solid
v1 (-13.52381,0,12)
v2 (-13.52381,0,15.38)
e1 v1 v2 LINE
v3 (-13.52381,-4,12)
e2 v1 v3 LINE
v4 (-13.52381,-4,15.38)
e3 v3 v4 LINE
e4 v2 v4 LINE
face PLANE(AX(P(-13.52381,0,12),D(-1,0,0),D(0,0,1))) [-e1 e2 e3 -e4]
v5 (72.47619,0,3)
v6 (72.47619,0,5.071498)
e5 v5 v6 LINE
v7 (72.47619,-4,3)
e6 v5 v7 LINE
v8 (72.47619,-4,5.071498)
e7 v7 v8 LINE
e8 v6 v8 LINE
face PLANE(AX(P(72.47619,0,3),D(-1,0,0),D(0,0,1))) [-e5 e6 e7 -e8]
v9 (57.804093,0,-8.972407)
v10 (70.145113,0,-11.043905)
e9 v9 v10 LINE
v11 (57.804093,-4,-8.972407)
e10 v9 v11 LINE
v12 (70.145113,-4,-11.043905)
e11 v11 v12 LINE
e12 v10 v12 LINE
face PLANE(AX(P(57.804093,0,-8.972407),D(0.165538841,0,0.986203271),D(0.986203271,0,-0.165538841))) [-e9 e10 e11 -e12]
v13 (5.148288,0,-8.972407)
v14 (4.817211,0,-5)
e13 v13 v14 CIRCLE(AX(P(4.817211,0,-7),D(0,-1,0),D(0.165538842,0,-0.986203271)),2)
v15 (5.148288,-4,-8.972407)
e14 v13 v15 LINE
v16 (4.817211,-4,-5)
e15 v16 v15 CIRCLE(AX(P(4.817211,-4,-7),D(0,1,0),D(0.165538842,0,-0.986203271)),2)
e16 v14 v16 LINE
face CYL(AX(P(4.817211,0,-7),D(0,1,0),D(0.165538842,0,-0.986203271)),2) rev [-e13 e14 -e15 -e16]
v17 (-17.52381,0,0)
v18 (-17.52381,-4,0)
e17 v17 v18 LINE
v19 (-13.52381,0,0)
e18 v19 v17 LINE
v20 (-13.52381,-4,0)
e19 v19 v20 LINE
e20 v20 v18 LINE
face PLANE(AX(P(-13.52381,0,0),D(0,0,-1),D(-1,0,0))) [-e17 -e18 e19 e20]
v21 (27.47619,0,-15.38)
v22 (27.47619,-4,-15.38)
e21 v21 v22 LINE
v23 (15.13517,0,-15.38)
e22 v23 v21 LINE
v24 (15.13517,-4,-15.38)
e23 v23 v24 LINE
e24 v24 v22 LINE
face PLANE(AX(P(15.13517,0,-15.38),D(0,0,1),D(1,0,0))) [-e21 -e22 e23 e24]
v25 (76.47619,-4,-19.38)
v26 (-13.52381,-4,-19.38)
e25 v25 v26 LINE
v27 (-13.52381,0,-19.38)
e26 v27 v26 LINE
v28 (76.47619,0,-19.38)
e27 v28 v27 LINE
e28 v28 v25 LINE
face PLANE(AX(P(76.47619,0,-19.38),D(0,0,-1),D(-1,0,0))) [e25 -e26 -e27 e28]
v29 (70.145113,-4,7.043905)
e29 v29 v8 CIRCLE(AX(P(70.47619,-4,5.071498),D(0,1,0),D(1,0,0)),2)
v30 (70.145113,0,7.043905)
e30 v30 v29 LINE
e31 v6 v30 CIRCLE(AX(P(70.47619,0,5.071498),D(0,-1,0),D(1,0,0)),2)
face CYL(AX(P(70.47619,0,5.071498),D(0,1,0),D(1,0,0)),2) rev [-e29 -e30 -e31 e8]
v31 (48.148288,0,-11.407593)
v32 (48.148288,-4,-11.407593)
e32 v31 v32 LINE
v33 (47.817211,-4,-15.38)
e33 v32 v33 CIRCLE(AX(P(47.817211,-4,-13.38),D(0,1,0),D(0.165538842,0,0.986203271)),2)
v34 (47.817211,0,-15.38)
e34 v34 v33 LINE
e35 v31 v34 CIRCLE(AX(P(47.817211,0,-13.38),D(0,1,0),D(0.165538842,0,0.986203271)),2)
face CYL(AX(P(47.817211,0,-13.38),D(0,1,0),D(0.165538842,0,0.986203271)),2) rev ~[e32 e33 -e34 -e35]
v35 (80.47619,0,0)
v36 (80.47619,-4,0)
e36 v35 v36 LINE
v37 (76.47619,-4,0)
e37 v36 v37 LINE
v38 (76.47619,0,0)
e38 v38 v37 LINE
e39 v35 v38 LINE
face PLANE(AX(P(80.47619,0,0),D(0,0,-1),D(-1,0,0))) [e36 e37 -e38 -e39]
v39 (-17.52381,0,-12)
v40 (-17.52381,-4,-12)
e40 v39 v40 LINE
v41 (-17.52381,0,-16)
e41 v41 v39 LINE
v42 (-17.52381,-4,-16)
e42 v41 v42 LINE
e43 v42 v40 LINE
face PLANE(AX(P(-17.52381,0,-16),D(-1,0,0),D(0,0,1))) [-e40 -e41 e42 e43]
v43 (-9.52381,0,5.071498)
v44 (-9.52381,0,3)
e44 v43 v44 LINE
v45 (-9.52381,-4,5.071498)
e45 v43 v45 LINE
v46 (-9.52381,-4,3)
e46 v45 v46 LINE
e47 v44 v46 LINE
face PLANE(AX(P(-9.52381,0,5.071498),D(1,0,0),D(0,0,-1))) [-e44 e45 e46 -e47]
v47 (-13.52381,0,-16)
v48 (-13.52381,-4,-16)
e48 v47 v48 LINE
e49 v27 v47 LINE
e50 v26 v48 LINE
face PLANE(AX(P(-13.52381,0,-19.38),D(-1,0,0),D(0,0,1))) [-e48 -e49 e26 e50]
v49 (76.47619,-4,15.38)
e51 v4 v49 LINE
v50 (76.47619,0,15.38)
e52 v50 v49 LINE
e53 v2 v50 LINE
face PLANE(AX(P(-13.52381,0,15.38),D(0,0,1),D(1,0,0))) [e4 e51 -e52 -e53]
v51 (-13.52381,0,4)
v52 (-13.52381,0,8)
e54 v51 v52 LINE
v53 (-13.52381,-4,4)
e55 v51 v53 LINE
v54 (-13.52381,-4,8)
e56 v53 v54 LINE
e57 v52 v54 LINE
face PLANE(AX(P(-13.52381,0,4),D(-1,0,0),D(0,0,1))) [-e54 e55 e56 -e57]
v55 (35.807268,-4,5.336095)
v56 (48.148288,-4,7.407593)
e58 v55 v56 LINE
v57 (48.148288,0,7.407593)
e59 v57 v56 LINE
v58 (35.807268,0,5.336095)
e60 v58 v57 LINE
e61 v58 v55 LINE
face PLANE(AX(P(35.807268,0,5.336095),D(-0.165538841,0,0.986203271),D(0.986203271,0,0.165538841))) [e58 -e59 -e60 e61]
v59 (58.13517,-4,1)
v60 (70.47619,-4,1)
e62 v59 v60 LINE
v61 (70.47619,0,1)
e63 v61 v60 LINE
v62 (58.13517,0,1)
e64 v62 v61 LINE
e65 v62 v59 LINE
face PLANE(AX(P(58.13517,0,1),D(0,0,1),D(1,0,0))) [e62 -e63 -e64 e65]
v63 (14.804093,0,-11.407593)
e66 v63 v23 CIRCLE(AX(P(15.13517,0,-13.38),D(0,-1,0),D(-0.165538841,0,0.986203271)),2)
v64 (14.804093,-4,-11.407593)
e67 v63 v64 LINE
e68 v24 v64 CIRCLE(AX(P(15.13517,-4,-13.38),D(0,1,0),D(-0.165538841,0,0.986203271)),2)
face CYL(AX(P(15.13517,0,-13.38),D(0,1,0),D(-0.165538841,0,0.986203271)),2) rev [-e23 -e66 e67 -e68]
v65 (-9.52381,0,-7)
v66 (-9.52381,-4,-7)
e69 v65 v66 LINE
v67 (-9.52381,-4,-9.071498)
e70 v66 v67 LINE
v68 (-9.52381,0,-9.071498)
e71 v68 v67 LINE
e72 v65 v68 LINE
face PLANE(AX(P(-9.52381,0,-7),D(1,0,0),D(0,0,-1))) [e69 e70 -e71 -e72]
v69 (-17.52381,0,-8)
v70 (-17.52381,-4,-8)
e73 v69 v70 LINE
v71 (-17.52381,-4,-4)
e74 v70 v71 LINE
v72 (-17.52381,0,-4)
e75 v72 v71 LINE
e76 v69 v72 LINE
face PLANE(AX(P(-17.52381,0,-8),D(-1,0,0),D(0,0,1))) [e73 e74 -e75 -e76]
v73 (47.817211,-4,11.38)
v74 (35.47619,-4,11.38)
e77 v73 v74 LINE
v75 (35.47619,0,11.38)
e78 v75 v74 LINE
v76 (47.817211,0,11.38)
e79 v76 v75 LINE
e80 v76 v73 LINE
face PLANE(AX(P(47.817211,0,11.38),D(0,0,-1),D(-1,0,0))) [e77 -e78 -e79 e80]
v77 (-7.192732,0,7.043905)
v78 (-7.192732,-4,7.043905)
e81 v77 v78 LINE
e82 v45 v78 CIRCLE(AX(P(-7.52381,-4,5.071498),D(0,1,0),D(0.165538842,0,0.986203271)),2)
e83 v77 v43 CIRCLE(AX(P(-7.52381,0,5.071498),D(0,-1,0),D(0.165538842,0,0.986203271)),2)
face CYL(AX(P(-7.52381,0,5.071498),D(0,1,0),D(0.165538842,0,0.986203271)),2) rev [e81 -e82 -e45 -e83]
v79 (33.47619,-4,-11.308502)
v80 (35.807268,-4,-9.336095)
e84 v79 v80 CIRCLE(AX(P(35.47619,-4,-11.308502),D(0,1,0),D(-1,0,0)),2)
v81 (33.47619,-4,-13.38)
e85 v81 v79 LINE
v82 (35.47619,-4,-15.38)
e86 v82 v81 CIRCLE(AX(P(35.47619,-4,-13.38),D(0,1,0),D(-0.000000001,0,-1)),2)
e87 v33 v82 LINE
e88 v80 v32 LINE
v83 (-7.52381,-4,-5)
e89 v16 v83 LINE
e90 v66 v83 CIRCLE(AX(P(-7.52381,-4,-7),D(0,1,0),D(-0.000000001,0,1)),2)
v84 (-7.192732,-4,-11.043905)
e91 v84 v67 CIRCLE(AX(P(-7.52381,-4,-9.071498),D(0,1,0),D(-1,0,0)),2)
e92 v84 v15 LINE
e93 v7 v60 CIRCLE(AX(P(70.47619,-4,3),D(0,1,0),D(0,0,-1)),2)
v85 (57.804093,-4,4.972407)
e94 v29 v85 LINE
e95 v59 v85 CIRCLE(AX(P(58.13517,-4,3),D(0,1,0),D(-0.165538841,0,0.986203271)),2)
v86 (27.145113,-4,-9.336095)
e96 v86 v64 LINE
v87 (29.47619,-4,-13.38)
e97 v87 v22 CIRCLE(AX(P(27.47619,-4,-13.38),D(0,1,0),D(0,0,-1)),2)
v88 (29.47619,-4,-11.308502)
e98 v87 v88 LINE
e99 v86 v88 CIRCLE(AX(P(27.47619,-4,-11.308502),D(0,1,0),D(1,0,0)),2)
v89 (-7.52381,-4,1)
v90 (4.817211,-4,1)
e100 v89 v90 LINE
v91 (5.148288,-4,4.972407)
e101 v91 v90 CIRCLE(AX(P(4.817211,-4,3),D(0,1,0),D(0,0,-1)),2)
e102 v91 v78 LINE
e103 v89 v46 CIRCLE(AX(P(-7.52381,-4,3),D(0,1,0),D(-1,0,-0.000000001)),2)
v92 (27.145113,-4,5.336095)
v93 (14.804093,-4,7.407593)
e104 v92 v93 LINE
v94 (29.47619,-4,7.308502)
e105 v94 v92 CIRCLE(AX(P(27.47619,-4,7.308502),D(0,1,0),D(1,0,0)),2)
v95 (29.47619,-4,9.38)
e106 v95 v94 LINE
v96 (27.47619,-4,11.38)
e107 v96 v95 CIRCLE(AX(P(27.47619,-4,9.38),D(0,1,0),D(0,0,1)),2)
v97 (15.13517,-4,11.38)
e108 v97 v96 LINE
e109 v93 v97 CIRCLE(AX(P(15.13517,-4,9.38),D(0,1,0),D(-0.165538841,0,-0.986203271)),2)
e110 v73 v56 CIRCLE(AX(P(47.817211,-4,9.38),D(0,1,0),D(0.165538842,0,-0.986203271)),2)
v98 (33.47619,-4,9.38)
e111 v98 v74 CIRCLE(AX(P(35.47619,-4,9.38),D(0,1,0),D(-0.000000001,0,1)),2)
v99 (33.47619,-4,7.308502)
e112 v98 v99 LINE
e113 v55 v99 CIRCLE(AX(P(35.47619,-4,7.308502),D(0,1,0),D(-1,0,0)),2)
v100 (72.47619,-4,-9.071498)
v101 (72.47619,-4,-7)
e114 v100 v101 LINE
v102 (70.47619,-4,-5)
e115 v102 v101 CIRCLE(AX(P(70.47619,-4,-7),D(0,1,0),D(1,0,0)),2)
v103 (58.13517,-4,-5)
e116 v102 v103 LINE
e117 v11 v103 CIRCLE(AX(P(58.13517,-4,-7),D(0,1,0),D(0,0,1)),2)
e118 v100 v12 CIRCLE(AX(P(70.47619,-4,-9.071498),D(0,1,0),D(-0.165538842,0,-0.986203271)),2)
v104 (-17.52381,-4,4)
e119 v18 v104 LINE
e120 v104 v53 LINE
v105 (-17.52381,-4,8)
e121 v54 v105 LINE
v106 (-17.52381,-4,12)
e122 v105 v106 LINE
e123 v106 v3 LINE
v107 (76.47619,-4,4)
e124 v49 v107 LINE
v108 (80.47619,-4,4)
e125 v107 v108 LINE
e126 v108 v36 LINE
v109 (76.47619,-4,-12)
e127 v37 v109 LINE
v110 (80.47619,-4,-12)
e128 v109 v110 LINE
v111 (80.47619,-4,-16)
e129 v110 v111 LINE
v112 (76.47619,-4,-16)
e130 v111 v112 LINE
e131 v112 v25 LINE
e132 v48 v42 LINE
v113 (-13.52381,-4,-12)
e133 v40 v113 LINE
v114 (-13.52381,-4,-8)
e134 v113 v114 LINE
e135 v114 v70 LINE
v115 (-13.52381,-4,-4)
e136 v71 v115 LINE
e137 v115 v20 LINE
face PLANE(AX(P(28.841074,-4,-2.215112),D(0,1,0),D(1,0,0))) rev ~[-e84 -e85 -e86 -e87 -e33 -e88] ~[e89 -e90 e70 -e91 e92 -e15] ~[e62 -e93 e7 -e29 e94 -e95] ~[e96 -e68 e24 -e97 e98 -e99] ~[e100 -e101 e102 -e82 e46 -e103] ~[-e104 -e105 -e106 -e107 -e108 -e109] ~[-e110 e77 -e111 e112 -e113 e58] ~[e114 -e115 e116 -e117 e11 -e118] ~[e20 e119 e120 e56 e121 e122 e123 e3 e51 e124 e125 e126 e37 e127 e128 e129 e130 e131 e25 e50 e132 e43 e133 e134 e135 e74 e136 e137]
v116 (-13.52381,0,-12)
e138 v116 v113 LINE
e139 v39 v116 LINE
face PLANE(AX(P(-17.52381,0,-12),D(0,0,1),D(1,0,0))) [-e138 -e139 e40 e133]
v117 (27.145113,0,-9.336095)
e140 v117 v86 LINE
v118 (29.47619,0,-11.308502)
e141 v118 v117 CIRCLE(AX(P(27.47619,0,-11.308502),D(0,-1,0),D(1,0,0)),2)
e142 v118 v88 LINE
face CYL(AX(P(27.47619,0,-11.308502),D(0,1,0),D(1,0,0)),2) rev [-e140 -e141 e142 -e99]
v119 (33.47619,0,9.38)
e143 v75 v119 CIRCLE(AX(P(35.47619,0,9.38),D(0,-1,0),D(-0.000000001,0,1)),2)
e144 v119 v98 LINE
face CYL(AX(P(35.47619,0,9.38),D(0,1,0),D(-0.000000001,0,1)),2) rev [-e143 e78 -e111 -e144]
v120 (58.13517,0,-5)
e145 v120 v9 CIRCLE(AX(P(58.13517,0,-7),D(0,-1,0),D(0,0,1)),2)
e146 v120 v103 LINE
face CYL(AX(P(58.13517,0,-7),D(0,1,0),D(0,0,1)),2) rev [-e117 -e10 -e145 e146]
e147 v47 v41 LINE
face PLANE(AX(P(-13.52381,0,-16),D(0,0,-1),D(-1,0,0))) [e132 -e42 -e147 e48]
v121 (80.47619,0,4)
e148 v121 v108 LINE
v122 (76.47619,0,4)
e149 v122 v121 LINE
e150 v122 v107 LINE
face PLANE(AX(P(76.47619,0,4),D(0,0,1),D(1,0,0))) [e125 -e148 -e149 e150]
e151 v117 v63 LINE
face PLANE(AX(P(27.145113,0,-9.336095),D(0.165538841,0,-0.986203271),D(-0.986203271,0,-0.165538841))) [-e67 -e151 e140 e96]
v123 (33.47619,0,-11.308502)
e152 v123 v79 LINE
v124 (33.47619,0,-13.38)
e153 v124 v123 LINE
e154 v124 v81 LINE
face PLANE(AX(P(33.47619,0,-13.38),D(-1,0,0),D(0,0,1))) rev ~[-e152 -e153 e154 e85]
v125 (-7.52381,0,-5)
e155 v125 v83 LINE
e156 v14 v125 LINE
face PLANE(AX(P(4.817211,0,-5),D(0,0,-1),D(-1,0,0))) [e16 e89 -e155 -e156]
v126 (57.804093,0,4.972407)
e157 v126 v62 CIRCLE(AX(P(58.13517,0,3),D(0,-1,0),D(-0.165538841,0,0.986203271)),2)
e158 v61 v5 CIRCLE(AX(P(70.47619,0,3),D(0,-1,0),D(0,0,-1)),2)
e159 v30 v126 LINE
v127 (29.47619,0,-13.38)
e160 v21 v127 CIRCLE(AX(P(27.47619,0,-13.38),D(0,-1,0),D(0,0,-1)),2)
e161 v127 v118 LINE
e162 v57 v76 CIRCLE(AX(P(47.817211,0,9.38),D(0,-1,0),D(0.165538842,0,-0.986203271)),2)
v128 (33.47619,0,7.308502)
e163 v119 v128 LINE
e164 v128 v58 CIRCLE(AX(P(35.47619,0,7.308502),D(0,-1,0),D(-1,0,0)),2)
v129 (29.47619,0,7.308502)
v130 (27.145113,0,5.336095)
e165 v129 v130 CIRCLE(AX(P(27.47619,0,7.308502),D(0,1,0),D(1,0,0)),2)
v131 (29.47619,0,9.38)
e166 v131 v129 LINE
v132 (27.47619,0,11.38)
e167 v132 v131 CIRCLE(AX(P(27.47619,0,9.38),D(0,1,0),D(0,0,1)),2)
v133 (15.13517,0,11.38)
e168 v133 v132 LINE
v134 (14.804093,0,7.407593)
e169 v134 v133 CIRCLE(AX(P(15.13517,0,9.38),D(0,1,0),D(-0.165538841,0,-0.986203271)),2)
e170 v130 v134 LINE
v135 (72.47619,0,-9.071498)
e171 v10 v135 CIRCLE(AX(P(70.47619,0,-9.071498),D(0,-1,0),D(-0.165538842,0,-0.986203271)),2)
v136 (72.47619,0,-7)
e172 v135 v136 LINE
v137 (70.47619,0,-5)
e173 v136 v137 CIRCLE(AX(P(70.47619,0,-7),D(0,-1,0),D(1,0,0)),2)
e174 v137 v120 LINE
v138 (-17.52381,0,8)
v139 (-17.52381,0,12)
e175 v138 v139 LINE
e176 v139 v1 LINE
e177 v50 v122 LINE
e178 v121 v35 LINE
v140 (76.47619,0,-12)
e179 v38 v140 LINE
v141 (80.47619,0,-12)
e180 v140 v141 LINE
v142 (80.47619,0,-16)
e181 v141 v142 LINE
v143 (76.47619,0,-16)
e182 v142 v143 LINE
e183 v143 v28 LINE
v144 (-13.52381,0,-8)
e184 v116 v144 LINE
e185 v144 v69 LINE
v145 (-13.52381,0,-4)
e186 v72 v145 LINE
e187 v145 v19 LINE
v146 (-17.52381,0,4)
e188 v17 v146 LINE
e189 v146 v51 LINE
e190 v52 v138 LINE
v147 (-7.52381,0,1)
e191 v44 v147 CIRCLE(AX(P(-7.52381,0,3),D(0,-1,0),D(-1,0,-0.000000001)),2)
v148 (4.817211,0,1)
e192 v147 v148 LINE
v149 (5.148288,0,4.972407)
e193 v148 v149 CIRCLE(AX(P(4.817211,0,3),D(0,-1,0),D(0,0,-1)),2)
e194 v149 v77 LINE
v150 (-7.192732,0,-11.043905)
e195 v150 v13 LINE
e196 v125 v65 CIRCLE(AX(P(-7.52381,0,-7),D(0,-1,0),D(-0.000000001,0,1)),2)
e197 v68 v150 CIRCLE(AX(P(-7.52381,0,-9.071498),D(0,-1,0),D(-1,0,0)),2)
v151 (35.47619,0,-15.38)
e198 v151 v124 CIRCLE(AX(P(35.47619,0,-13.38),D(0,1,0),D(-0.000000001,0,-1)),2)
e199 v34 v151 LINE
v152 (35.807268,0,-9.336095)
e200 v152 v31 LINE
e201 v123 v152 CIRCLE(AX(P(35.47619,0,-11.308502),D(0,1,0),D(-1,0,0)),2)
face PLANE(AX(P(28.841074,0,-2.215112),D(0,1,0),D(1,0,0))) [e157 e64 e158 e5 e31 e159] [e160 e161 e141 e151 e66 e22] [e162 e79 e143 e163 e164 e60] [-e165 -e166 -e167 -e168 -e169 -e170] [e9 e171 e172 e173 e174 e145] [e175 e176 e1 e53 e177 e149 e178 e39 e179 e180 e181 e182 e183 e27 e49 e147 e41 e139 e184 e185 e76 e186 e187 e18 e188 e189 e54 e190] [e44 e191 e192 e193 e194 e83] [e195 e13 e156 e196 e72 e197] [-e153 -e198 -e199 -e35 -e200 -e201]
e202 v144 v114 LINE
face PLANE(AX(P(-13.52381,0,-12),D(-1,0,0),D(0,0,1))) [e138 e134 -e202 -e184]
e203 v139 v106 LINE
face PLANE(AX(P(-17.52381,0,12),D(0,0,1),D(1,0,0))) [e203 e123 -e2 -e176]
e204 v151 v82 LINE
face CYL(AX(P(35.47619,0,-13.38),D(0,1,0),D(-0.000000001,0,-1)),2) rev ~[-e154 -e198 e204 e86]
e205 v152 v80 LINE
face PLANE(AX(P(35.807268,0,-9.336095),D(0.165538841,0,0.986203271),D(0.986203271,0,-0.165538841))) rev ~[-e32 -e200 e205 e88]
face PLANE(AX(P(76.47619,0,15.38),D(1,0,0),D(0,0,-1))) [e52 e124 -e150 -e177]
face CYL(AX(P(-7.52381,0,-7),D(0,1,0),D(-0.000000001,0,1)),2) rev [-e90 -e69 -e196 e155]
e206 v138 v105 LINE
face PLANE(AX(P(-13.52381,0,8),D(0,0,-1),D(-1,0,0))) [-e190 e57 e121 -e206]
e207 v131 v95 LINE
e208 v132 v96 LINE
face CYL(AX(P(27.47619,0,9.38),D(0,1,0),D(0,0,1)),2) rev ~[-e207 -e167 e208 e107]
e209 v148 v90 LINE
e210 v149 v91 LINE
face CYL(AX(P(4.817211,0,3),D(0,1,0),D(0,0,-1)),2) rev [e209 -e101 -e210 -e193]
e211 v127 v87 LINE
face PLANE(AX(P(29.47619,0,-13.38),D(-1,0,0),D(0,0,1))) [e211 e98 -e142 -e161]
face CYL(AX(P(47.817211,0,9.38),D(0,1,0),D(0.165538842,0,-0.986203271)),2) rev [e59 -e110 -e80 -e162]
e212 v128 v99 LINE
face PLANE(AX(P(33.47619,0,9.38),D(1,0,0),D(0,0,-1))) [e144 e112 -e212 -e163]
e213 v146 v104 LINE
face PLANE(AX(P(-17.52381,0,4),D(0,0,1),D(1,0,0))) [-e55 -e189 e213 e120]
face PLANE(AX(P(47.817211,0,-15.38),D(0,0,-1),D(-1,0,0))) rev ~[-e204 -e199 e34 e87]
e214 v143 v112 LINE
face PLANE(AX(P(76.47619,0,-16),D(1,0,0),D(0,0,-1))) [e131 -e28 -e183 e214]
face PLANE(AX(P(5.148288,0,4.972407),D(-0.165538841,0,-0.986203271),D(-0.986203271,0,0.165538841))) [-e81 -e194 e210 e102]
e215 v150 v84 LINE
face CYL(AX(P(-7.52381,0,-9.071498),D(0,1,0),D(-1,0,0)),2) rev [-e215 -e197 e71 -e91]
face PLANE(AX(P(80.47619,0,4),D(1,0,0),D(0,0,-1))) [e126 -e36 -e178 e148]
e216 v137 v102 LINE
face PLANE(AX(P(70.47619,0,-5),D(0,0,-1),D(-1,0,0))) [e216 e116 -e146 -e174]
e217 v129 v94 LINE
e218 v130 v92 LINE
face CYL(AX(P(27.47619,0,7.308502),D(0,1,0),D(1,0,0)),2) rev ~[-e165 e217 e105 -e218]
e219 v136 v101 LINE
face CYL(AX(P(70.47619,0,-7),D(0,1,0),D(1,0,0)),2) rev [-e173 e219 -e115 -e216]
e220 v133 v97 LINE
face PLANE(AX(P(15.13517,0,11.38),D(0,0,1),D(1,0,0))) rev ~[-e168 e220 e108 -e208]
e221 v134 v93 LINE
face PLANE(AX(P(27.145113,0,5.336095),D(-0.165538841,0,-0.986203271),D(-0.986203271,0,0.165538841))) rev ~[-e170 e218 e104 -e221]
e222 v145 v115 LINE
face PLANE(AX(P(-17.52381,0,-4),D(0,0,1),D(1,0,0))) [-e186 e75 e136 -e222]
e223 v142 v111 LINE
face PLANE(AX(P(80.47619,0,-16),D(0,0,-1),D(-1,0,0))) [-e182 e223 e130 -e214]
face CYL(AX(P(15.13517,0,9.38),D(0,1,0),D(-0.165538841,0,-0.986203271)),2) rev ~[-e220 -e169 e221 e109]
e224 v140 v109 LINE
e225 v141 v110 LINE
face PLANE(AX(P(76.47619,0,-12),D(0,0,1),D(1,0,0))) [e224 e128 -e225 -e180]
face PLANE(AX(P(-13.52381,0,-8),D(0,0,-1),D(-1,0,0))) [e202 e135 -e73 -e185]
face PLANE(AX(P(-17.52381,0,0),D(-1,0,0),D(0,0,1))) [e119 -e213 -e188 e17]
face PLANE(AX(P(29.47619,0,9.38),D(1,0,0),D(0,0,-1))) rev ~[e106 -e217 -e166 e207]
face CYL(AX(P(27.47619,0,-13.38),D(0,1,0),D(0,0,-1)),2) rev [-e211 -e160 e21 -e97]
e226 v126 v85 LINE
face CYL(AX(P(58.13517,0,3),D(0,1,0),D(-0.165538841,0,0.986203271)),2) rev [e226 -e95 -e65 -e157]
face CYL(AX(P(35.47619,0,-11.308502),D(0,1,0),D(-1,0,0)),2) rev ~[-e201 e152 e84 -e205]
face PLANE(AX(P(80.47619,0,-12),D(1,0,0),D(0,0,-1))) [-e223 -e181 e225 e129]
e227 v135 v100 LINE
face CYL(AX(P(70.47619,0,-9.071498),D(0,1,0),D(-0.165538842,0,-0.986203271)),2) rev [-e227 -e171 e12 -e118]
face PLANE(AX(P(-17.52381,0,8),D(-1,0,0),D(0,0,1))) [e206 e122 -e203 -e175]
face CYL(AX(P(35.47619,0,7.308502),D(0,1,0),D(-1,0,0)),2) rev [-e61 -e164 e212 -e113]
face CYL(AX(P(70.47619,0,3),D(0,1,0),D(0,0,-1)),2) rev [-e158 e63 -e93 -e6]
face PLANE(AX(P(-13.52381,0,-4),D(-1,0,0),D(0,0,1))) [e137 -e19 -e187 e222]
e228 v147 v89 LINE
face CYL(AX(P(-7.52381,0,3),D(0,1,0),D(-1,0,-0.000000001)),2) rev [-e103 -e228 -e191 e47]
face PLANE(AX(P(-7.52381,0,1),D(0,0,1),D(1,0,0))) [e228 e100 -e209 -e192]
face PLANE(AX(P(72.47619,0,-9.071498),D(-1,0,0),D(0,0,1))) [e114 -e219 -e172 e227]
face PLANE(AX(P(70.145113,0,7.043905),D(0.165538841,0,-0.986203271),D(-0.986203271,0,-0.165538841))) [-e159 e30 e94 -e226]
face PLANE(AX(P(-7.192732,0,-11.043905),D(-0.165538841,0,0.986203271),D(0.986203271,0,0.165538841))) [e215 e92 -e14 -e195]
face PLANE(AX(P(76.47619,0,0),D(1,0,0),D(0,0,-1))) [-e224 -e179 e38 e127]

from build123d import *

# Parameters (mm, degrees)
BOSS_EXTRUDE1_DEPTH = 4
CUT_EXTRUDE1_DEPTH  = 10


with BuildPart() as part:
    # Sketch1 → Boss-Extrude1 (new body)
    with BuildSketch(Plane(origin=(0, 0, 0), x_dir=(1, 0, 0), z_dir=(0, 1, 0))):
        Polygon((-13.523809524, 16), (-17.523809524, 16), (-17.523809524, 12), (-13.523809524, 12), (-13.523809524, 8), (-17.523809524, 8), (-17.523809524, 4), (-13.523809524, 4), (-13.523809524, 0), (-17.523809524, 0), (-17.523809524, -4), (-13.523809524, -4), (-13.523809524, -8), (-17.523809524, -8), (-17.523809524, -12), (-13.523809524, -12), (-13.523809524, -15.38), (76.476190476, -15.38), (76.476190476, -4), (80.476190476, -4), (80.476190476, 0), (76.476190476, 0), (76.476190476, 12), (80.476190476, 12), (80.476190476, 16), (76.476190476, 16), (76.476190476, 19.38), (-13.523809524, 19.38), align=None)
    extrude(amount=-BOSS_EXTRUDE1_DEPTH)

    # Sketch2 → Cut-Extrude1 (cut)
    with BuildSketch(Plane(origin=(0, 0, 0), x_dir=(1, 0, 0), z_dir=(0, 1, 0))):
        with BuildLine():
            ThreePointArc((-9.523809524, 9.071498058), (-8.815677287, 10.598284776), (-7.192731841, 11.0439046))
            Line((-7.192731841, 11.0439046), (5.148288204, 8.972406542))
            ThreePointArc((5.148288204, 8.972406542), (6.810300218, 6.833887214), (4.817210521, 5))
            Line((4.817210521, 5), (-7.523809524, 5))
            ThreePointArc((-7.523809524, 5), (-8.938023086, 5.585786438), (-9.523809524, 7))
            Line((-9.523809524, 7), (-9.523809524, 9.071498058))
        make_face()
        with BuildLine():
            Line((15.135170432, 15.38), (27.476190476, 15.38))
            ThreePointArc((27.476190476, 15.38), (28.890404039, 14.794213562), (29.476190476, 13.38))
            Line((29.476190476, 13.38), (29.476190476, 11.308501942))
            ThreePointArc((29.476190476, 11.308501942), (28.768058239, 9.781715224), (27.145112793, 9.3360954))
            Line((27.145112793, 9.3360954), (14.804092749, 11.407593458))
            ThreePointArc((14.804092749, 11.407593458), (13.142080734, 13.546112786), (15.135170432, 15.38))
        make_face()
        with BuildLine():
            Line((33.476190476, 13.38), (33.476190476, 11.308501942))
            ThreePointArc((33.476190476, 11.308501942), (34.184322713, 9.781715224), (35.807268159, 9.3360954))
            Line((35.807268159, 9.3360954), (48.148288204, 11.407593458))
            ThreePointArc((48.148288204, 11.407593458), (49.810300218, 13.546112786), (47.817210521, 15.38))
            Line((47.817210521, 15.38), (35.476190476, 15.38))
            ThreePointArc((35.476190476, 15.38), (34.061976914, 14.794213562), (33.476190476, 13.38))
        make_face()
        with BuildLine():
            ThreePointArc((72.476190476, 7), (71.890404039, 5.585786438), (70.476190476, 5))
            Line((70.476190476, 5), (58.135170432, 5))
            ThreePointArc((58.135170432, 5), (56.142080734, 6.833887214), (57.804092749, 8.972406542))
            Line((57.804092749, 8.972406542), (70.145112793, 11.0439046))
            ThreePointArc((70.145112793, 11.0439046), (71.768058239, 10.598284776), (72.476190476, 9.071498058))
            Line((72.476190476, 9.071498058), (72.476190476, 7))
        make_face()
        with BuildLine():
            ThreePointArc((72.476190476, -5.071498058), (71.768058239, -6.598284776), (70.145112793, -7.0439046))
            Line((70.145112793, -7.0439046), (57.804092749, -4.972406542))
            ThreePointArc((57.804092749, -4.972406542), (56.142080734, -2.833887214), (58.135170432, -1))
            Line((58.135170432, -1), (70.476190476, -1))
            ThreePointArc((70.476190476, -1), (71.890404039, -1.585786438), (72.476190476, -3))
            Line((72.476190476, -3), (72.476190476, -5.071498058))
        make_face()
        with BuildLine():
            Line((47.817210521, -11.38), (35.476190476, -11.38))
            ThreePointArc((35.476190476, -11.38), (34.061976914, -10.794213562), (33.476190476, -9.38))
            Line((33.476190476, -9.38), (33.476190476, -7.308501942))
            ThreePointArc((33.476190476, -7.308501942), (34.184322713, -5.781715224), (35.807268159, -5.3360954))
            Line((35.807268159, -5.3360954), (48.148288204, -7.407593458))
            ThreePointArc((48.148288204, -7.407593458), (49.810300218, -9.546112786), (47.817210521, -11.38))
        make_face()
        with BuildLine():
            Line((29.476190476, -9.38), (29.476190476, -7.308501942))
            ThreePointArc((29.476190476, -7.308501942), (28.768058239, -5.781715224), (27.145112793, -5.3360954))
            Line((27.145112793, -5.3360954), (14.804092749, -7.407593458))
            ThreePointArc((14.804092749, -7.407593458), (13.142080734, -9.546112786), (15.135170432, -11.38))
            Line((15.135170432, -11.38), (27.476190476, -11.38))
            ThreePointArc((27.476190476, -11.38), (28.890404039, -10.794213562), (29.476190476, -9.38))
        make_face()
        with BuildLine():
            ThreePointArc((-9.523809524, -3), (-8.938023086, -1.585786438), (-7.523809524, -1))
            Line((-7.523809524, -1), (4.817210521, -1))
            ThreePointArc((4.817210521, -1), (6.810300218, -2.833887214), (5.148288204, -4.972406542))
            Line((5.148288204, -4.972406542), (-7.192731841, -7.0439046))
            ThreePointArc((-7.192731841, -7.0439046), (-8.815677287, -6.598284776), (-9.523809524, -5.071498058))
            Line((-9.523809524, -5.071498058), (-9.523809524, -3))
        make_face()
    extrude(amount=-CUT_EXTRUDE1_DEPTH, mode=Mode.SUBTRACT)


solid = part.part
